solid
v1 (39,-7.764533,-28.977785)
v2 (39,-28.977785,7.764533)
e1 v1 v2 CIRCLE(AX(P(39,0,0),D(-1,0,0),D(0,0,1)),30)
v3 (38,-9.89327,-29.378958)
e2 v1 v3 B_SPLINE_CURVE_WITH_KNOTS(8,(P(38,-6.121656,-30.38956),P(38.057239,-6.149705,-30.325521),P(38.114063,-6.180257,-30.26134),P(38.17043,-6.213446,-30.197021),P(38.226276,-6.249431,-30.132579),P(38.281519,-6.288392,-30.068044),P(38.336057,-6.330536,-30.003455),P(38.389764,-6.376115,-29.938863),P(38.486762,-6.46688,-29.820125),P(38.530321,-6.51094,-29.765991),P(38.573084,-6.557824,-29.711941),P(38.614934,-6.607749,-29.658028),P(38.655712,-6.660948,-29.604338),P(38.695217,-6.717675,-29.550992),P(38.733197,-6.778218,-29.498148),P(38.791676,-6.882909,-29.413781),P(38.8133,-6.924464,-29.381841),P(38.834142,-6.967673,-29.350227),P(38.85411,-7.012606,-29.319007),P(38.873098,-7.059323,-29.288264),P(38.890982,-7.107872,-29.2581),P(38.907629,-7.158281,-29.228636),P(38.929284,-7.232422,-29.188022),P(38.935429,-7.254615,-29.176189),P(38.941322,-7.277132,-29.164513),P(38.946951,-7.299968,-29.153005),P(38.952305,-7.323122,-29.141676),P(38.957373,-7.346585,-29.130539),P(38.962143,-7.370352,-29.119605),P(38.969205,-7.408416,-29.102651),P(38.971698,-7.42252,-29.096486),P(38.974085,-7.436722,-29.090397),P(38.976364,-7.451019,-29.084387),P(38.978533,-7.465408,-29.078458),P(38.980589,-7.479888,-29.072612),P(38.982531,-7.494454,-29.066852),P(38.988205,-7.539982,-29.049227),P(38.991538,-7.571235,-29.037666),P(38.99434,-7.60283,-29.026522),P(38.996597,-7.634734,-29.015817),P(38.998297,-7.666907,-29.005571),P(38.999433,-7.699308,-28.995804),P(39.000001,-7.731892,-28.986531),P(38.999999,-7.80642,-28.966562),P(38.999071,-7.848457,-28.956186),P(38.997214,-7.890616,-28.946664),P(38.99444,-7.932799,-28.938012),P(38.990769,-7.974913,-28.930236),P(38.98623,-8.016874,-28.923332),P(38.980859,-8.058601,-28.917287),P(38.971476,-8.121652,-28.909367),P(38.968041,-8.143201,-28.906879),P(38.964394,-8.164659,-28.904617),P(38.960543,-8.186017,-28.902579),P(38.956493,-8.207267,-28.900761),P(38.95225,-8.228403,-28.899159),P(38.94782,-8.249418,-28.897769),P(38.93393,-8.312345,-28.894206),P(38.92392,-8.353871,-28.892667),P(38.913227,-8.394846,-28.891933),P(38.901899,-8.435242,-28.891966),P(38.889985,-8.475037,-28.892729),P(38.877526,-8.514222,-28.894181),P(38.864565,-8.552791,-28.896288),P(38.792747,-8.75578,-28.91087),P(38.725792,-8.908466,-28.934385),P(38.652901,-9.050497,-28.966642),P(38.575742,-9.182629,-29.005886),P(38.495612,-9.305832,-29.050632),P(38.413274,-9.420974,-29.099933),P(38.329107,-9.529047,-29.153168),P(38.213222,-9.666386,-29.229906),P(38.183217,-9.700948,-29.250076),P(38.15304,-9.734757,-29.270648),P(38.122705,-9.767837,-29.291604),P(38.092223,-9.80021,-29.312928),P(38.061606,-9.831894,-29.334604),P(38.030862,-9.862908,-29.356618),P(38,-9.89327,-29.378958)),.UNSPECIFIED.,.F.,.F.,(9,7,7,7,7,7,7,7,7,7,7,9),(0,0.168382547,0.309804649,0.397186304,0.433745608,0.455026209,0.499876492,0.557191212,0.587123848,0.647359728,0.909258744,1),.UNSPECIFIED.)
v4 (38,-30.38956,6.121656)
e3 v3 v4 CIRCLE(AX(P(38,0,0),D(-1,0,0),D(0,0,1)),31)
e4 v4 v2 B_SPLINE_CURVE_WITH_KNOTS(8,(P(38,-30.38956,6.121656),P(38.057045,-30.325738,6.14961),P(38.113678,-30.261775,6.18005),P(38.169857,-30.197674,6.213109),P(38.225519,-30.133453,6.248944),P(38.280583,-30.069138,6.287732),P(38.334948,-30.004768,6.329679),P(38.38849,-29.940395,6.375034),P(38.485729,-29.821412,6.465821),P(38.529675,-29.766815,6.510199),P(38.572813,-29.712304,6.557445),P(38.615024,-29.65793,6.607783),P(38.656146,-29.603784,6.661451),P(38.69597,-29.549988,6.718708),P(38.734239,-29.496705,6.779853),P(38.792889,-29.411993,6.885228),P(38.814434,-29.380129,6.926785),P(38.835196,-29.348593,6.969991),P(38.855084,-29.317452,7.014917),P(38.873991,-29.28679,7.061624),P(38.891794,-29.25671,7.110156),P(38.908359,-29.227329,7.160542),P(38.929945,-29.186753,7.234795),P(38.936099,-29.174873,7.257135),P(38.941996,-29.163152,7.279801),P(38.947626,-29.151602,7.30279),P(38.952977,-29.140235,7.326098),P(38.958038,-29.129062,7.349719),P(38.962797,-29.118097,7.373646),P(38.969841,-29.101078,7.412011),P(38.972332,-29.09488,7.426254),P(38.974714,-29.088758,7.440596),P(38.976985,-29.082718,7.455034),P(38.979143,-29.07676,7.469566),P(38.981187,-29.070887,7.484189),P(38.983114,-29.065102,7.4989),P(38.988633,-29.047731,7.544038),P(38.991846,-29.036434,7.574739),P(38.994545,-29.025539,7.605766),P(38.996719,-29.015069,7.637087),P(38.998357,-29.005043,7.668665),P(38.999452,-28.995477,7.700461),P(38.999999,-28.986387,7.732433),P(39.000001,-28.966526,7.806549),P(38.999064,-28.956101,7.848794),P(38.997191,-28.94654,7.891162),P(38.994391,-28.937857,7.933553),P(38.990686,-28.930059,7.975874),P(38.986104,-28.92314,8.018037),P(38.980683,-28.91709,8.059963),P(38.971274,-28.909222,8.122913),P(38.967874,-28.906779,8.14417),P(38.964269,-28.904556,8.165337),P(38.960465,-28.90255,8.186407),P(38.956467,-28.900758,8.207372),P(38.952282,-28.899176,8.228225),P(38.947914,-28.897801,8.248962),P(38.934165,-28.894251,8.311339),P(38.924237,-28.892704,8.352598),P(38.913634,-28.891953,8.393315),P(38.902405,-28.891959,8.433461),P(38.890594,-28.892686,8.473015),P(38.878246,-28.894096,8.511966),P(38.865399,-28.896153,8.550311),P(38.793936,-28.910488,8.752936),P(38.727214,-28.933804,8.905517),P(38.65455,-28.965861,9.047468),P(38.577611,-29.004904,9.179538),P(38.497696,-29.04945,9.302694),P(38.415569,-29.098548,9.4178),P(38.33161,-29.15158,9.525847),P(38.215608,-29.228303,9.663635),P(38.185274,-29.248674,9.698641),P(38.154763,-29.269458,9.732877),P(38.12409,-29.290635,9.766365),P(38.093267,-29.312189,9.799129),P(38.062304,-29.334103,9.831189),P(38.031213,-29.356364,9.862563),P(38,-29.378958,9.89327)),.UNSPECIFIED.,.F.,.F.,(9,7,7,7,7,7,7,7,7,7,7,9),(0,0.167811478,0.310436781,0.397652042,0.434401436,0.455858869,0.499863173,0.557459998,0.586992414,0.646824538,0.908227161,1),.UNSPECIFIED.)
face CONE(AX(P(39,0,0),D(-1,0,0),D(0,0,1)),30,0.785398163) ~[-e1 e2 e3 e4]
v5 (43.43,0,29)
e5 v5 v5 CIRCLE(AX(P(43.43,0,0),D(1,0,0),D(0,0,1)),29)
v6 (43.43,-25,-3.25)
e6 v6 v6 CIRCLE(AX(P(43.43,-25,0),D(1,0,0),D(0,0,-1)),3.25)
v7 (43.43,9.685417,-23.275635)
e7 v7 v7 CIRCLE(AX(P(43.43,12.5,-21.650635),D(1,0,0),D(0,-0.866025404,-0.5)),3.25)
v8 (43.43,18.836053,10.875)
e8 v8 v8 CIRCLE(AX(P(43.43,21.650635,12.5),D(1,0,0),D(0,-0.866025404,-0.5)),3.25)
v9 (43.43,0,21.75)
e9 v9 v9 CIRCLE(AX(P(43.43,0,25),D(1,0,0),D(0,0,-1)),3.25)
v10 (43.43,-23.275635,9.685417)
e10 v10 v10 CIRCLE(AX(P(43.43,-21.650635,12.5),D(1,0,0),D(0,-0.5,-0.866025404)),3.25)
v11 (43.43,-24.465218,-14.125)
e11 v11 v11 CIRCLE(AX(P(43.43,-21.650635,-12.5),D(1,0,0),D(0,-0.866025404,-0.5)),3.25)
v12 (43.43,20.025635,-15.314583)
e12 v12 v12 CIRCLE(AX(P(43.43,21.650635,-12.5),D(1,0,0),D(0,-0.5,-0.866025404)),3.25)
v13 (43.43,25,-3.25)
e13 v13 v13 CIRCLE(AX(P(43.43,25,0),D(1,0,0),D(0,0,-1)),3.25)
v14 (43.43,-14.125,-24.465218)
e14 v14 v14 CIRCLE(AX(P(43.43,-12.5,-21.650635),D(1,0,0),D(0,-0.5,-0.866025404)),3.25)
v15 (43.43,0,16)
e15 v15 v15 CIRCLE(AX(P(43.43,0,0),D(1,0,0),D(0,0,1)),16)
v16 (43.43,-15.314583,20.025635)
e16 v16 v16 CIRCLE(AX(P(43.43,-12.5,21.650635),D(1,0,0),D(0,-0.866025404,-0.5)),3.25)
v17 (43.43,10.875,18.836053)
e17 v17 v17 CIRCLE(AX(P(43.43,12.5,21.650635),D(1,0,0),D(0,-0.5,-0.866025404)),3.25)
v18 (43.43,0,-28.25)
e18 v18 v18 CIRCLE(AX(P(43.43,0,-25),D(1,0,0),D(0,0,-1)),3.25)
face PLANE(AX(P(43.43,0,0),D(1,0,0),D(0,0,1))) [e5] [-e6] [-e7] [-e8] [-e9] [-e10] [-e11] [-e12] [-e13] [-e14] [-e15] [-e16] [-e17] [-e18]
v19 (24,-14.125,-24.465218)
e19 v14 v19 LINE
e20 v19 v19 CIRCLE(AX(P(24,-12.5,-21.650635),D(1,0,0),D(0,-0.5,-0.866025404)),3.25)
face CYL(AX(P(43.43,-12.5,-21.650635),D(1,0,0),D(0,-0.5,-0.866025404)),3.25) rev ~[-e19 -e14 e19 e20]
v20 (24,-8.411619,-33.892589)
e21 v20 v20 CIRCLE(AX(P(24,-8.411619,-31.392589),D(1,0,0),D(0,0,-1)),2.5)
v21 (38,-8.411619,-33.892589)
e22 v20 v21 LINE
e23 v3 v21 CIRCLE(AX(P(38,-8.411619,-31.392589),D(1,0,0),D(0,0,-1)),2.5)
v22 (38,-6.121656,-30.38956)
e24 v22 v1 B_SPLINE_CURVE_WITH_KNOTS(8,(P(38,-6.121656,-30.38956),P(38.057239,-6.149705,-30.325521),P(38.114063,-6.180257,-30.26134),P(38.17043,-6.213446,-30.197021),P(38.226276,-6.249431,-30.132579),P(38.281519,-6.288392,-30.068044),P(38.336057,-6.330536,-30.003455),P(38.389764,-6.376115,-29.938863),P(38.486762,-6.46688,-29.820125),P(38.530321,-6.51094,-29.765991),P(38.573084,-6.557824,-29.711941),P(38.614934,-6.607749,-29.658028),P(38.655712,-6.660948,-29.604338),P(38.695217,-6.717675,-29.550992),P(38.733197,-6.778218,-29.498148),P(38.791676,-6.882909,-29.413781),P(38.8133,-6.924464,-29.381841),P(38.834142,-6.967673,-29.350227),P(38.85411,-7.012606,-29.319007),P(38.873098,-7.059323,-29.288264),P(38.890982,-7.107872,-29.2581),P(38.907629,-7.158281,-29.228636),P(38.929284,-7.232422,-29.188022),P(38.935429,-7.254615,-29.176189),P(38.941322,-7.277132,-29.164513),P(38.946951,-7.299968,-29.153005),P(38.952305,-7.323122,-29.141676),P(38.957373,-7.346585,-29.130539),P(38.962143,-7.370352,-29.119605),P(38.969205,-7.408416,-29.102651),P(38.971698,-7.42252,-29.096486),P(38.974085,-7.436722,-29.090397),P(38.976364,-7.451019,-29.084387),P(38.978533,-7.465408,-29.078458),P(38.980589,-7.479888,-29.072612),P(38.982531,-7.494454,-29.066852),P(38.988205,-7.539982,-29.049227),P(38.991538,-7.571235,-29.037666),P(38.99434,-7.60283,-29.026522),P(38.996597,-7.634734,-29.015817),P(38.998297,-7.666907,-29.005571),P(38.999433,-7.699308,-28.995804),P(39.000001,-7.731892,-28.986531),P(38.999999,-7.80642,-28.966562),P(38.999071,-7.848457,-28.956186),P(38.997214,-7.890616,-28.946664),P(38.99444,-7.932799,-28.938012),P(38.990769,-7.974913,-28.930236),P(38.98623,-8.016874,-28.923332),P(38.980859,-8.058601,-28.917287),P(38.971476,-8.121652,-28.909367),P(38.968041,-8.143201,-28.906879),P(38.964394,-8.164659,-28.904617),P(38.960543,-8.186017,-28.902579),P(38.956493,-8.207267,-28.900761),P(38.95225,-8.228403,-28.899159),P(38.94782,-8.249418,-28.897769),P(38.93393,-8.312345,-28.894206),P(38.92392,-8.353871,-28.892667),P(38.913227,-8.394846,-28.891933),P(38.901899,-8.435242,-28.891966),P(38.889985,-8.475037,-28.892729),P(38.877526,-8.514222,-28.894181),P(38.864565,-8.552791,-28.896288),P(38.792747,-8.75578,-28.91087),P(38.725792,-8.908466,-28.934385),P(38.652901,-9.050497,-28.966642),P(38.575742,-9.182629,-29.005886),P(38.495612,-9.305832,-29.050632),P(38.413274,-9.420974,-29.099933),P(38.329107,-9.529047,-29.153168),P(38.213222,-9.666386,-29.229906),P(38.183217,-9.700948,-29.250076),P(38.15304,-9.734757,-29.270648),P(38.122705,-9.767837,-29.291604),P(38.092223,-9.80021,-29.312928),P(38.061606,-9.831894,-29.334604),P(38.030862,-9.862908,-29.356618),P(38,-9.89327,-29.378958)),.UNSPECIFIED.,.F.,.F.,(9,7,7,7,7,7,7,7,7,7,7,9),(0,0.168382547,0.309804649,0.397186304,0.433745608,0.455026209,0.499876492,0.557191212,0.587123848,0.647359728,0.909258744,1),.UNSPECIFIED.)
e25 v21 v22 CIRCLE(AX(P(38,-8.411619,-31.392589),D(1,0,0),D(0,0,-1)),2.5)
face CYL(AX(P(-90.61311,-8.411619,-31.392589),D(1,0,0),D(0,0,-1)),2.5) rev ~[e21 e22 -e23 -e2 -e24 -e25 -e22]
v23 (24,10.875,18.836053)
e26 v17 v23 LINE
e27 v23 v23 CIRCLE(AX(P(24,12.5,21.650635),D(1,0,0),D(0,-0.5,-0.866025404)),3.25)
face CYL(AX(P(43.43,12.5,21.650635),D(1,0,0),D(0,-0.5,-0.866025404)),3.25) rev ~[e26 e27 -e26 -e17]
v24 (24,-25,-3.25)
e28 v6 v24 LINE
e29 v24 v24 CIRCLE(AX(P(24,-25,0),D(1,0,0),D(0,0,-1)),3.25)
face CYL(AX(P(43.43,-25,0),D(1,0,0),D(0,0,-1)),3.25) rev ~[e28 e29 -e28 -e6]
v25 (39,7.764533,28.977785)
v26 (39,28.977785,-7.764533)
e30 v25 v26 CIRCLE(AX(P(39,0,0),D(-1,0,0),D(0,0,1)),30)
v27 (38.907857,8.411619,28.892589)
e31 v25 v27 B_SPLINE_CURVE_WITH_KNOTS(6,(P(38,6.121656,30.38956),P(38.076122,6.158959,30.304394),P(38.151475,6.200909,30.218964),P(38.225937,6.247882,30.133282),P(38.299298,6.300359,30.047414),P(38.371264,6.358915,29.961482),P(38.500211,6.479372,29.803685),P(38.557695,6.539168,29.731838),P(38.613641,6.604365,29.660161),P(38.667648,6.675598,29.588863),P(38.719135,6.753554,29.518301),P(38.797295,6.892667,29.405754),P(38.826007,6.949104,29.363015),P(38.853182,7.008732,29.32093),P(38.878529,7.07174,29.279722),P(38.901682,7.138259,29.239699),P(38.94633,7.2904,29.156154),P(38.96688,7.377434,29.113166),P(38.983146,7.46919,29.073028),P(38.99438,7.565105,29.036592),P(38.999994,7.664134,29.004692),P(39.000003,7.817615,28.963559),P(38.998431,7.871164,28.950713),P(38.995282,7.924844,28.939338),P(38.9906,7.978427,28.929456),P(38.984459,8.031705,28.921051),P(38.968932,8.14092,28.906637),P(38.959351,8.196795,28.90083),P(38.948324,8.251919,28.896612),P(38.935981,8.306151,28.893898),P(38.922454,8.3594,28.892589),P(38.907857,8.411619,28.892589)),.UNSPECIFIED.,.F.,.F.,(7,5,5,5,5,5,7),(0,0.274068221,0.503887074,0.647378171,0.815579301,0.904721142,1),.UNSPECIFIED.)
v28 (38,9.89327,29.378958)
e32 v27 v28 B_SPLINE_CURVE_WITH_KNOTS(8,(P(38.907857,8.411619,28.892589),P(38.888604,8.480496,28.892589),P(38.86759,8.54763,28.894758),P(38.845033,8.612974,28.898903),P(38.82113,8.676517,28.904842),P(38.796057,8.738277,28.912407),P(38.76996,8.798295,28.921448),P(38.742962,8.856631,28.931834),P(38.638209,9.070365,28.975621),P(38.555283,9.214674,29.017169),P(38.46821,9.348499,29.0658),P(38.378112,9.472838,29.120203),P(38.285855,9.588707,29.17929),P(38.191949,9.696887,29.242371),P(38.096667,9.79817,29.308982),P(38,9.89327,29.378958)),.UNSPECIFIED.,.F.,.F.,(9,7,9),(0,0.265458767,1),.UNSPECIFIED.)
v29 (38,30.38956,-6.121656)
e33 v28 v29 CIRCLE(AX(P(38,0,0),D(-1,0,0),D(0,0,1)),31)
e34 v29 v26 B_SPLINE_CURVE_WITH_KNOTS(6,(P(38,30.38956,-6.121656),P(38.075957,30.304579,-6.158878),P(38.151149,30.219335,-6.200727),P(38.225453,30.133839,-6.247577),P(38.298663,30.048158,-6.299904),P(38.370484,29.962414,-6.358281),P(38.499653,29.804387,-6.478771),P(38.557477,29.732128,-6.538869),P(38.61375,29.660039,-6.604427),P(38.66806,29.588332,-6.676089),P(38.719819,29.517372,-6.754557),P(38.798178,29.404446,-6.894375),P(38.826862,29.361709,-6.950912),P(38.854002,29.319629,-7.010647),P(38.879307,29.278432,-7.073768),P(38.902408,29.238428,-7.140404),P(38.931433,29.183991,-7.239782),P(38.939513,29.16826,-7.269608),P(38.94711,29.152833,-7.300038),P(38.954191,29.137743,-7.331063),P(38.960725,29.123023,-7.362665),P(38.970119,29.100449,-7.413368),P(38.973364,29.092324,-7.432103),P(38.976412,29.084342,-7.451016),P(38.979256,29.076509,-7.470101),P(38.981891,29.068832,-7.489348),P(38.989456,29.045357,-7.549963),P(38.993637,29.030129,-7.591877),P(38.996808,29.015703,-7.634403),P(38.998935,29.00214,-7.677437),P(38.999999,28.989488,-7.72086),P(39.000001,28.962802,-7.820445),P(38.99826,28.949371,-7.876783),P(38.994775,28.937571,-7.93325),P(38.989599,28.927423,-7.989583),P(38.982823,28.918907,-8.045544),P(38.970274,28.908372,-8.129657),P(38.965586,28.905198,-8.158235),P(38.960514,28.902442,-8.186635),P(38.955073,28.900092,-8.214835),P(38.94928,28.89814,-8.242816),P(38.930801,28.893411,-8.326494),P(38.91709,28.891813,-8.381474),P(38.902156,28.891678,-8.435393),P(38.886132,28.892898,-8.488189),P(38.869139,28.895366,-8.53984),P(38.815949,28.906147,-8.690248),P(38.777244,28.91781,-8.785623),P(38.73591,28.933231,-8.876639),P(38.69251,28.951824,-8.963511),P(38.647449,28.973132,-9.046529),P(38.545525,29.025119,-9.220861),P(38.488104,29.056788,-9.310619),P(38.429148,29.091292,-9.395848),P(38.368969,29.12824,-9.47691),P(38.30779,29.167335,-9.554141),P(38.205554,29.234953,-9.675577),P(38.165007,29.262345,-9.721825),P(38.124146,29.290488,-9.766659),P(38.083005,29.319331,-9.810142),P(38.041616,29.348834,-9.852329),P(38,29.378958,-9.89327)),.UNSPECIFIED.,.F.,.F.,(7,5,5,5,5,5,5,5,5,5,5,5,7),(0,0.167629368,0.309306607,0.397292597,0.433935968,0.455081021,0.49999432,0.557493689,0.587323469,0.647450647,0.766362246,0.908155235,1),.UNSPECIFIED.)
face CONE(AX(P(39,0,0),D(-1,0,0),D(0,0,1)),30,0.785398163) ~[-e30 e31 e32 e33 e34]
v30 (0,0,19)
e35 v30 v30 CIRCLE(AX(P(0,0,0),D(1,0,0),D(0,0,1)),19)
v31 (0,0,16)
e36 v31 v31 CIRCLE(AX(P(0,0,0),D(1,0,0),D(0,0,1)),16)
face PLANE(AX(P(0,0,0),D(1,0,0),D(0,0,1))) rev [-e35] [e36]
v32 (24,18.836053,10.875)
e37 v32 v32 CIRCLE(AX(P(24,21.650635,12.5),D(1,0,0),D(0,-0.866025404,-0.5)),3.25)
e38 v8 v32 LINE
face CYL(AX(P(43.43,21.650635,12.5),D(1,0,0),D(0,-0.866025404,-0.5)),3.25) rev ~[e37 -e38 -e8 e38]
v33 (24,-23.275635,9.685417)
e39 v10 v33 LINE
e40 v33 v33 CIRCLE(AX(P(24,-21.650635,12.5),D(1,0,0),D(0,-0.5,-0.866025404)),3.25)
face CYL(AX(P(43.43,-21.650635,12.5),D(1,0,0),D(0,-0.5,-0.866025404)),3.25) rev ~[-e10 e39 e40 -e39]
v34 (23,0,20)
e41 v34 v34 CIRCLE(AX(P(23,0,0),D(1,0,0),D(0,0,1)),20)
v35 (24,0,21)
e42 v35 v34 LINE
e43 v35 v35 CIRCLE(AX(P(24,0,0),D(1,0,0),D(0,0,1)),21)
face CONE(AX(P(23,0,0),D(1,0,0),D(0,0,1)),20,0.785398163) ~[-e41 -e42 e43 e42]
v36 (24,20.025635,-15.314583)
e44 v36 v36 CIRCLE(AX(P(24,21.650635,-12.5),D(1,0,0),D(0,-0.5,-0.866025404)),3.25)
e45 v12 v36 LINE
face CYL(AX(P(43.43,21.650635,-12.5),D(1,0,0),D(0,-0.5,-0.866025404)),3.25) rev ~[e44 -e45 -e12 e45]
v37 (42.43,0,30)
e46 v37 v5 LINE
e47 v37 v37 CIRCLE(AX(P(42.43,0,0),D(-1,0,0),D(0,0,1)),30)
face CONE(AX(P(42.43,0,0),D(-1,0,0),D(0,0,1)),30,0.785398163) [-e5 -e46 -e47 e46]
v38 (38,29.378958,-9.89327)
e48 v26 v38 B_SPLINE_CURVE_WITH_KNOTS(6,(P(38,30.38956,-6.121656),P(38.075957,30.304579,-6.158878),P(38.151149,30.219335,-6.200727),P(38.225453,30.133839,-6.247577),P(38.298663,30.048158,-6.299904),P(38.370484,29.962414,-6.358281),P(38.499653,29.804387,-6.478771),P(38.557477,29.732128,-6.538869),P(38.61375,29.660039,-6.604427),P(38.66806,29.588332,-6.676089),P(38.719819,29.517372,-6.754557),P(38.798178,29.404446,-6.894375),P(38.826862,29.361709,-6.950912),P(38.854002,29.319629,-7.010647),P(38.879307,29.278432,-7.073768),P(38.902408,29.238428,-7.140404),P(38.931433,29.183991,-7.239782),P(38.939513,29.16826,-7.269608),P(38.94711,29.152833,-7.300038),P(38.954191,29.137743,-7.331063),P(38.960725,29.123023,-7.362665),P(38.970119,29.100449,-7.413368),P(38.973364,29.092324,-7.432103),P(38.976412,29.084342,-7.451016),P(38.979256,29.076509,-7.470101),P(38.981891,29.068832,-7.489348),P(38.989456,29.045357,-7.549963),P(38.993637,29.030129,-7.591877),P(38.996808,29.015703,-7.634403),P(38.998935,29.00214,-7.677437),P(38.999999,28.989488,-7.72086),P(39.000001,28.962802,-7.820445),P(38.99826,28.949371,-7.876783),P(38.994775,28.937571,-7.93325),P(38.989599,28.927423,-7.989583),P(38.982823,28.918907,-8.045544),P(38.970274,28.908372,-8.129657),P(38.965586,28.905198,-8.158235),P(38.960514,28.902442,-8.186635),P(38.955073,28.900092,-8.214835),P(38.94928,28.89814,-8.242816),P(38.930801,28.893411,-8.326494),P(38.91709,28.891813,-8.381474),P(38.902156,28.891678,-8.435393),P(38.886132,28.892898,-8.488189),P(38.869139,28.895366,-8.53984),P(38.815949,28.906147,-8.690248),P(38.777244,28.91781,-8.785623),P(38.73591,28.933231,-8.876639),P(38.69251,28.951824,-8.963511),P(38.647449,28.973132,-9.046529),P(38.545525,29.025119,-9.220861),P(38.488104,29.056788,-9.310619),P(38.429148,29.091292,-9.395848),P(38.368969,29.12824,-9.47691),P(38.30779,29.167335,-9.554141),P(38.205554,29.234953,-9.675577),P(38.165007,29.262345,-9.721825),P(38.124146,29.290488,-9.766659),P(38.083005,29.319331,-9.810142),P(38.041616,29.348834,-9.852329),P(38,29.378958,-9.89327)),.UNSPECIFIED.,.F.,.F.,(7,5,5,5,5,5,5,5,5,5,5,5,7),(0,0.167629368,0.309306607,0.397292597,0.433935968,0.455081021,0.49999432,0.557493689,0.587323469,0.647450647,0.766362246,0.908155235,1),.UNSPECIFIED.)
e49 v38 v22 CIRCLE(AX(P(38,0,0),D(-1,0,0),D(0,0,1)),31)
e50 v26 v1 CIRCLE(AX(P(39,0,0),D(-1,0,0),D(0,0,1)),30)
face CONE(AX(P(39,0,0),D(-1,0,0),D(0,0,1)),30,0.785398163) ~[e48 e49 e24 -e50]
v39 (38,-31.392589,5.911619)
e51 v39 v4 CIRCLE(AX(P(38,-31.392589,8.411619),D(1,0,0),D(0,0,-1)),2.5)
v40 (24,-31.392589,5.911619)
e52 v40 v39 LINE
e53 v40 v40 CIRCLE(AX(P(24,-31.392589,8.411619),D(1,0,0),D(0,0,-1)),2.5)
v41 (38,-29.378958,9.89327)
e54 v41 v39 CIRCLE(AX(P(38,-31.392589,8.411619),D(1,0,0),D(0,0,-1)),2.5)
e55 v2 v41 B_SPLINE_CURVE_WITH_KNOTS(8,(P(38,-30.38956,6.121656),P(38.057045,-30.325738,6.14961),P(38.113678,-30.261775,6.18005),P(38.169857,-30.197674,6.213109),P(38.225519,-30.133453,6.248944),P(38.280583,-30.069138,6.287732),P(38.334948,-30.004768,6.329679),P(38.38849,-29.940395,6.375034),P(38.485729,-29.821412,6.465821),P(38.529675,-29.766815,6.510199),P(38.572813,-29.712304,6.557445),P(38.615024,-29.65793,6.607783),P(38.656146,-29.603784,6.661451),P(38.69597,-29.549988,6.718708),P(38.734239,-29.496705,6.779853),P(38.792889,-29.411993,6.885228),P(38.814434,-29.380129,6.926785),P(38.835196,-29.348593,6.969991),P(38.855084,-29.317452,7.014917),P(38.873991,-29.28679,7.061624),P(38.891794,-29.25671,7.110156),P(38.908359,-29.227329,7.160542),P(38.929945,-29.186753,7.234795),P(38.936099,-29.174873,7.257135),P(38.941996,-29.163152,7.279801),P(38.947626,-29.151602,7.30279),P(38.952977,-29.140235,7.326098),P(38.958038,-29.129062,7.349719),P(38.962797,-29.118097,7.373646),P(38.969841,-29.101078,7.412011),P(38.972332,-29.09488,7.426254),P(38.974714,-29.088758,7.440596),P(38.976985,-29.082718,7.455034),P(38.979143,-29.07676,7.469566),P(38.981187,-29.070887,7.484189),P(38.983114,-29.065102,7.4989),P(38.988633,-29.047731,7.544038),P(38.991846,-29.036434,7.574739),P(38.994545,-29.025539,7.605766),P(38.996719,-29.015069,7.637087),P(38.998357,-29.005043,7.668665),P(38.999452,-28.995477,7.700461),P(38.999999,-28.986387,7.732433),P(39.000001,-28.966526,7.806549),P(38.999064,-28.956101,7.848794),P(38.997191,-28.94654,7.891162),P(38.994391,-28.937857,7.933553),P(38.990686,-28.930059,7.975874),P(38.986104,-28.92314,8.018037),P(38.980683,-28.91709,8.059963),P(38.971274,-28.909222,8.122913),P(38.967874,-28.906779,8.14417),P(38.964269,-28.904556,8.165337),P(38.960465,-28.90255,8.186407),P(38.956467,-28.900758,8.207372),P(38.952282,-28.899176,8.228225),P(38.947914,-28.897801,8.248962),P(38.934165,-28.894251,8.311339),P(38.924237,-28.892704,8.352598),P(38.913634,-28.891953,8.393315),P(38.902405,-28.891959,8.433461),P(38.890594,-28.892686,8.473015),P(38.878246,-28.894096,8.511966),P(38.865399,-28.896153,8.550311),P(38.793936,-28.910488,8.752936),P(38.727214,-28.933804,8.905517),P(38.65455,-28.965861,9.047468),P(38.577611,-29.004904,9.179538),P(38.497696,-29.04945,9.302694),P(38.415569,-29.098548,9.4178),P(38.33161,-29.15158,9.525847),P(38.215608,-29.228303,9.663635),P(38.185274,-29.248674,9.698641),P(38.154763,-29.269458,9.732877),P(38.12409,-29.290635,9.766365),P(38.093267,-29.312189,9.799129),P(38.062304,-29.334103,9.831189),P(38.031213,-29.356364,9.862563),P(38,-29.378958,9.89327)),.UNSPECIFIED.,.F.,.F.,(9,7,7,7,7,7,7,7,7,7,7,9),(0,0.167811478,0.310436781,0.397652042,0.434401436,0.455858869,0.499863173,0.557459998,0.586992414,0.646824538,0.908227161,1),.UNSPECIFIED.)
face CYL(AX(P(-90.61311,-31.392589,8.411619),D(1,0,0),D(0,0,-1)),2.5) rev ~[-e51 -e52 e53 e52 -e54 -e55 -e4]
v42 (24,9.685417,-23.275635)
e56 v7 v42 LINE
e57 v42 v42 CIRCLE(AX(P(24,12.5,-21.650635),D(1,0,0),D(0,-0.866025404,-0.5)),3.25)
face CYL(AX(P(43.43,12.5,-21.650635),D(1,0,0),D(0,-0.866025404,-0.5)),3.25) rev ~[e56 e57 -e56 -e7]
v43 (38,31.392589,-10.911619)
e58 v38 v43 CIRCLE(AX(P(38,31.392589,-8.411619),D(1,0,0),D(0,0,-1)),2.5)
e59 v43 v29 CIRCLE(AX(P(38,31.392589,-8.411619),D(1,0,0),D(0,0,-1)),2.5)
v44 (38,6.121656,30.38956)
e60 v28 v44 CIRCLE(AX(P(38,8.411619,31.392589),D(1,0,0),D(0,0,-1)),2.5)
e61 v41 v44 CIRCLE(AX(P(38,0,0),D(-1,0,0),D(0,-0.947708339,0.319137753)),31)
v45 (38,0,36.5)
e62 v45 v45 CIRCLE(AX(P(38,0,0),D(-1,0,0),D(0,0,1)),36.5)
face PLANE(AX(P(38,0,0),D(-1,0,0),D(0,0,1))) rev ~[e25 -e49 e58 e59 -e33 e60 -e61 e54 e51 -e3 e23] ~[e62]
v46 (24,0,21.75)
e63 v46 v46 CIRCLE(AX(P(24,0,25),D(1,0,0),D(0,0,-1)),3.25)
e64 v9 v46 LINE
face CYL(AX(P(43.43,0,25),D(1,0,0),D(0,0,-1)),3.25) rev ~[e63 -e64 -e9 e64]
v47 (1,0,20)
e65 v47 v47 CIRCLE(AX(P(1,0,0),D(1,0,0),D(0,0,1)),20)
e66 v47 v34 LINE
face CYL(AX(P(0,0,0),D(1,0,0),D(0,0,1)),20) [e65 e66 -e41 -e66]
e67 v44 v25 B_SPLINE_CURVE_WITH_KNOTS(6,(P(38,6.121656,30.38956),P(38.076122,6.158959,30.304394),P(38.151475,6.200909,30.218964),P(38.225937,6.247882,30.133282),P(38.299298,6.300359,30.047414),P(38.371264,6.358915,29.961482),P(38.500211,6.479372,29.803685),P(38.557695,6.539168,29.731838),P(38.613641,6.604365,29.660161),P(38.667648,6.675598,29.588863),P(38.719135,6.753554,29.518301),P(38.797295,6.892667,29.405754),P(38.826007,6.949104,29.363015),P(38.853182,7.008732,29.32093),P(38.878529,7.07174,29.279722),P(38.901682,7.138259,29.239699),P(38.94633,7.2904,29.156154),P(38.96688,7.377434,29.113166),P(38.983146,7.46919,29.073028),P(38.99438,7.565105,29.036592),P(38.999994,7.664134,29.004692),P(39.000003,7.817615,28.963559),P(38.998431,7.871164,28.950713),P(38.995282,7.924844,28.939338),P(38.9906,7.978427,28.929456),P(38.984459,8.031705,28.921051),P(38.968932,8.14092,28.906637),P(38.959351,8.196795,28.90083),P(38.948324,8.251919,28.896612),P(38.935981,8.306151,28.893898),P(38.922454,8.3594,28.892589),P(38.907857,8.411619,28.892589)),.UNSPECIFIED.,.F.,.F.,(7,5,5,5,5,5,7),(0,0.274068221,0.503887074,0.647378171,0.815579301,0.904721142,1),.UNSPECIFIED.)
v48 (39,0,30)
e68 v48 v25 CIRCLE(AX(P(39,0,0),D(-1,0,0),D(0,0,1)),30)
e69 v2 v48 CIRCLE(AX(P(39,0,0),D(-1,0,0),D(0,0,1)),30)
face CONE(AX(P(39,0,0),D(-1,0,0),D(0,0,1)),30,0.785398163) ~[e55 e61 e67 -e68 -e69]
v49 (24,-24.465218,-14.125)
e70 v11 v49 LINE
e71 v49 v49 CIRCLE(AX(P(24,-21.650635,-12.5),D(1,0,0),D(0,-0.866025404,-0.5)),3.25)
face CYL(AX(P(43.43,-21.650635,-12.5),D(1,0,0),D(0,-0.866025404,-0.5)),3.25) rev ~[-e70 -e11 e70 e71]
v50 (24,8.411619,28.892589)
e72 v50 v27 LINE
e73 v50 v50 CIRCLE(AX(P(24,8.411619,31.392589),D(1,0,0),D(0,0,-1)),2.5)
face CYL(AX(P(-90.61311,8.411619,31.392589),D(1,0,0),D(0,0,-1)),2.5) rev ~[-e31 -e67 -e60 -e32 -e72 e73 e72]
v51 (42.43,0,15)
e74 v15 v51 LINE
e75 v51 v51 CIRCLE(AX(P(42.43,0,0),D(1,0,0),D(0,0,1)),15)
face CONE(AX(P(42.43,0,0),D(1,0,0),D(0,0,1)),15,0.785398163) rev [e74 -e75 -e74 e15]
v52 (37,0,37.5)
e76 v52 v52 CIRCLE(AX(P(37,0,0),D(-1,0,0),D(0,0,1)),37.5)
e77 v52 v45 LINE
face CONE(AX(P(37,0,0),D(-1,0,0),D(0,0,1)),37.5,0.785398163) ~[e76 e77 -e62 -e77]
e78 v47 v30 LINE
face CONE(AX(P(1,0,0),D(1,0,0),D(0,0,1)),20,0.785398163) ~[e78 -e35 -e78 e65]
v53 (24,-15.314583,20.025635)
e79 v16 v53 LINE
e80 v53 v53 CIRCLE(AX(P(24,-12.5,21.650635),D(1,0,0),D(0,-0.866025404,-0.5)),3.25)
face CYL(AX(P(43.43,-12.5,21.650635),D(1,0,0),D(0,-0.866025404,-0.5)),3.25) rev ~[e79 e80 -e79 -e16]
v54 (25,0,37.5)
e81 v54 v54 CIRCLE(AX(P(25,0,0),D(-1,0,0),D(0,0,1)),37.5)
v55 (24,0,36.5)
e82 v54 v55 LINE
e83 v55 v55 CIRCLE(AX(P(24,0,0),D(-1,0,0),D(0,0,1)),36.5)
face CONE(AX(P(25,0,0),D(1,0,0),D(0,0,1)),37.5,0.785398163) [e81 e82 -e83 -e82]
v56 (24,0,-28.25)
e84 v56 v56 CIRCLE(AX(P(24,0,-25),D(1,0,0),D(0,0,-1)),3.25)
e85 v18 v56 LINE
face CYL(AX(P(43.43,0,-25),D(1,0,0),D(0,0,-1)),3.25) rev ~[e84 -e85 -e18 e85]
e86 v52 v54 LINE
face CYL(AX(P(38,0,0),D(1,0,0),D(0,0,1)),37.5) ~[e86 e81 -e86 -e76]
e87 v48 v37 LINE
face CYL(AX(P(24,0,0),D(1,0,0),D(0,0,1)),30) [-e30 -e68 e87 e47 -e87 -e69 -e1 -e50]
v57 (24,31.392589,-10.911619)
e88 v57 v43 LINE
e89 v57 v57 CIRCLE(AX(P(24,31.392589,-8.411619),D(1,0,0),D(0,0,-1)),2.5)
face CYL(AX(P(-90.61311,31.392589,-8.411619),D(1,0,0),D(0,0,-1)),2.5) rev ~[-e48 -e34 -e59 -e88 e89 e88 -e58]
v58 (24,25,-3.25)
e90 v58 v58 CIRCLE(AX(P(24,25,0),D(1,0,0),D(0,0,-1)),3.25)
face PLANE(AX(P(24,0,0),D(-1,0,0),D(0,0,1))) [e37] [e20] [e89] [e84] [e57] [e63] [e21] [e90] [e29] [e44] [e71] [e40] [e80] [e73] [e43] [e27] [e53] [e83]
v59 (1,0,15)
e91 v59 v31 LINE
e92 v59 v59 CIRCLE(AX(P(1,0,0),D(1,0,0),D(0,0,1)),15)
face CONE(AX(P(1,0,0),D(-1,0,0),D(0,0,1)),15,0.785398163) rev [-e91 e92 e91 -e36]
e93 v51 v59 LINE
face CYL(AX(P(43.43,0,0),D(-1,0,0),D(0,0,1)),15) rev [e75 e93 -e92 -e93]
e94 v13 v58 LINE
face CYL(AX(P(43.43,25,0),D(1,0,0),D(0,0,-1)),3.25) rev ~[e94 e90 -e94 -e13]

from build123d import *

# Parameters (mm, degrees)
SKETCH2_R           = 3.25
CUT_EXTRUDE1_DEPTH  = 61.713794973
BOSS_EXTRUDE1_START = -14
SKETCH4_R           = 37.5
SKETCH4_R_2         = 30
BOSS_EXTRUDE1_DEPTH = 14
CHAMFER1_SIZE       = 1
CIRPATTERN1_COUNT   = 3
CIRPATTERN1_ANGLE   = 60
M6_TAPPED_HOLE1_D   = 5


with BuildPart() as part:
    # Sketch1 → Revolve1 (revolve)
    with BuildSketch(Plane(origin=(0, 0, 0), x_dir=(1, 0, 0), z_dir=(0, 1, 0)), mode=Mode.PRIVATE) as revolve1_sk:
        Polygon((0, 20), (24, 20), (24, 30), (43.43, 30), (43.43, 15), (0, 15), align=None)
    revolve(revolve1_sk.sketch.rotate(Axis((0, 0, 0), (1, 0, 0)), 180), axis=Axis((0, 0, 0), (1, 0, 0)))

    # Sketch2 → Cut-Extrude1 (cut, through all)
    with BuildSketch(Plane(origin=(43.43, 0, 0), x_dir=(0, 0, -1), z_dir=(1, 0, 0))):
        with Locations((0, 25)):
            Circle(SKETCH2_R)
        with Locations((25, 0)):
            Circle(SKETCH2_R)
        with Locations((-25, 0)):
            Circle(SKETCH2_R)
        with Locations((0, -25)):
            Circle(SKETCH2_R)
    cut_extrude1 = extrude(amount=-CUT_EXTRUDE1_DEPTH, mode=Mode.SUBTRACT)

    # Sketch4 → Boss-Extrude1 (add)
    with BuildSketch(Plane.ZY.offset(-24).offset(BOSS_EXTRUDE1_START)):
        Circle(SKETCH4_R)
        Circle(SKETCH4_R_2, mode=Mode.SUBTRACT)
    extrude(amount=BOSS_EXTRUDE1_DEPTH)

    # Chamfer1
    chamfer1_edges = [part.edges().sort_by_distance(p)[0] for p in [
        (38, 0, -30),
        (38, 0, -37.5),
        (24, 0, -37.5),
        (0, 0, -15),
        (43.43, 0, -15),
        (43.43, 0, -30),
        (24, 0, -20),
        (0, 0, -20),
    ]]
    chamfer(chamfer1_edges, length=CHAMFER1_SIZE)

    # CirPattern1: Cut-Extrude1 ×3 about axis
    cirpattern1_axis = Axis((0, 0, 0), (-1, 0, 0))
    for i in range(1, CIRPATTERN1_COUNT):
        add(cut_extrude1.rotate(cirpattern1_axis, i * CIRPATTERN1_ANGLE / (CIRPATTERN1_COUNT - 1)), mode=Mode.SUBTRACT)

    # M6 Tapped Hole1 (through all)
    with Locations(Plane.ZY.offset(-24)):
        with Locations((-8.411618966, 31.392589354), (31.392589354, 8.411618966), (8.411618966, -31.392589354), (-31.392589354, -8.411618966)):
            Hole(M6_TAPPED_HOLE1_D / 2)


solid = part.part
